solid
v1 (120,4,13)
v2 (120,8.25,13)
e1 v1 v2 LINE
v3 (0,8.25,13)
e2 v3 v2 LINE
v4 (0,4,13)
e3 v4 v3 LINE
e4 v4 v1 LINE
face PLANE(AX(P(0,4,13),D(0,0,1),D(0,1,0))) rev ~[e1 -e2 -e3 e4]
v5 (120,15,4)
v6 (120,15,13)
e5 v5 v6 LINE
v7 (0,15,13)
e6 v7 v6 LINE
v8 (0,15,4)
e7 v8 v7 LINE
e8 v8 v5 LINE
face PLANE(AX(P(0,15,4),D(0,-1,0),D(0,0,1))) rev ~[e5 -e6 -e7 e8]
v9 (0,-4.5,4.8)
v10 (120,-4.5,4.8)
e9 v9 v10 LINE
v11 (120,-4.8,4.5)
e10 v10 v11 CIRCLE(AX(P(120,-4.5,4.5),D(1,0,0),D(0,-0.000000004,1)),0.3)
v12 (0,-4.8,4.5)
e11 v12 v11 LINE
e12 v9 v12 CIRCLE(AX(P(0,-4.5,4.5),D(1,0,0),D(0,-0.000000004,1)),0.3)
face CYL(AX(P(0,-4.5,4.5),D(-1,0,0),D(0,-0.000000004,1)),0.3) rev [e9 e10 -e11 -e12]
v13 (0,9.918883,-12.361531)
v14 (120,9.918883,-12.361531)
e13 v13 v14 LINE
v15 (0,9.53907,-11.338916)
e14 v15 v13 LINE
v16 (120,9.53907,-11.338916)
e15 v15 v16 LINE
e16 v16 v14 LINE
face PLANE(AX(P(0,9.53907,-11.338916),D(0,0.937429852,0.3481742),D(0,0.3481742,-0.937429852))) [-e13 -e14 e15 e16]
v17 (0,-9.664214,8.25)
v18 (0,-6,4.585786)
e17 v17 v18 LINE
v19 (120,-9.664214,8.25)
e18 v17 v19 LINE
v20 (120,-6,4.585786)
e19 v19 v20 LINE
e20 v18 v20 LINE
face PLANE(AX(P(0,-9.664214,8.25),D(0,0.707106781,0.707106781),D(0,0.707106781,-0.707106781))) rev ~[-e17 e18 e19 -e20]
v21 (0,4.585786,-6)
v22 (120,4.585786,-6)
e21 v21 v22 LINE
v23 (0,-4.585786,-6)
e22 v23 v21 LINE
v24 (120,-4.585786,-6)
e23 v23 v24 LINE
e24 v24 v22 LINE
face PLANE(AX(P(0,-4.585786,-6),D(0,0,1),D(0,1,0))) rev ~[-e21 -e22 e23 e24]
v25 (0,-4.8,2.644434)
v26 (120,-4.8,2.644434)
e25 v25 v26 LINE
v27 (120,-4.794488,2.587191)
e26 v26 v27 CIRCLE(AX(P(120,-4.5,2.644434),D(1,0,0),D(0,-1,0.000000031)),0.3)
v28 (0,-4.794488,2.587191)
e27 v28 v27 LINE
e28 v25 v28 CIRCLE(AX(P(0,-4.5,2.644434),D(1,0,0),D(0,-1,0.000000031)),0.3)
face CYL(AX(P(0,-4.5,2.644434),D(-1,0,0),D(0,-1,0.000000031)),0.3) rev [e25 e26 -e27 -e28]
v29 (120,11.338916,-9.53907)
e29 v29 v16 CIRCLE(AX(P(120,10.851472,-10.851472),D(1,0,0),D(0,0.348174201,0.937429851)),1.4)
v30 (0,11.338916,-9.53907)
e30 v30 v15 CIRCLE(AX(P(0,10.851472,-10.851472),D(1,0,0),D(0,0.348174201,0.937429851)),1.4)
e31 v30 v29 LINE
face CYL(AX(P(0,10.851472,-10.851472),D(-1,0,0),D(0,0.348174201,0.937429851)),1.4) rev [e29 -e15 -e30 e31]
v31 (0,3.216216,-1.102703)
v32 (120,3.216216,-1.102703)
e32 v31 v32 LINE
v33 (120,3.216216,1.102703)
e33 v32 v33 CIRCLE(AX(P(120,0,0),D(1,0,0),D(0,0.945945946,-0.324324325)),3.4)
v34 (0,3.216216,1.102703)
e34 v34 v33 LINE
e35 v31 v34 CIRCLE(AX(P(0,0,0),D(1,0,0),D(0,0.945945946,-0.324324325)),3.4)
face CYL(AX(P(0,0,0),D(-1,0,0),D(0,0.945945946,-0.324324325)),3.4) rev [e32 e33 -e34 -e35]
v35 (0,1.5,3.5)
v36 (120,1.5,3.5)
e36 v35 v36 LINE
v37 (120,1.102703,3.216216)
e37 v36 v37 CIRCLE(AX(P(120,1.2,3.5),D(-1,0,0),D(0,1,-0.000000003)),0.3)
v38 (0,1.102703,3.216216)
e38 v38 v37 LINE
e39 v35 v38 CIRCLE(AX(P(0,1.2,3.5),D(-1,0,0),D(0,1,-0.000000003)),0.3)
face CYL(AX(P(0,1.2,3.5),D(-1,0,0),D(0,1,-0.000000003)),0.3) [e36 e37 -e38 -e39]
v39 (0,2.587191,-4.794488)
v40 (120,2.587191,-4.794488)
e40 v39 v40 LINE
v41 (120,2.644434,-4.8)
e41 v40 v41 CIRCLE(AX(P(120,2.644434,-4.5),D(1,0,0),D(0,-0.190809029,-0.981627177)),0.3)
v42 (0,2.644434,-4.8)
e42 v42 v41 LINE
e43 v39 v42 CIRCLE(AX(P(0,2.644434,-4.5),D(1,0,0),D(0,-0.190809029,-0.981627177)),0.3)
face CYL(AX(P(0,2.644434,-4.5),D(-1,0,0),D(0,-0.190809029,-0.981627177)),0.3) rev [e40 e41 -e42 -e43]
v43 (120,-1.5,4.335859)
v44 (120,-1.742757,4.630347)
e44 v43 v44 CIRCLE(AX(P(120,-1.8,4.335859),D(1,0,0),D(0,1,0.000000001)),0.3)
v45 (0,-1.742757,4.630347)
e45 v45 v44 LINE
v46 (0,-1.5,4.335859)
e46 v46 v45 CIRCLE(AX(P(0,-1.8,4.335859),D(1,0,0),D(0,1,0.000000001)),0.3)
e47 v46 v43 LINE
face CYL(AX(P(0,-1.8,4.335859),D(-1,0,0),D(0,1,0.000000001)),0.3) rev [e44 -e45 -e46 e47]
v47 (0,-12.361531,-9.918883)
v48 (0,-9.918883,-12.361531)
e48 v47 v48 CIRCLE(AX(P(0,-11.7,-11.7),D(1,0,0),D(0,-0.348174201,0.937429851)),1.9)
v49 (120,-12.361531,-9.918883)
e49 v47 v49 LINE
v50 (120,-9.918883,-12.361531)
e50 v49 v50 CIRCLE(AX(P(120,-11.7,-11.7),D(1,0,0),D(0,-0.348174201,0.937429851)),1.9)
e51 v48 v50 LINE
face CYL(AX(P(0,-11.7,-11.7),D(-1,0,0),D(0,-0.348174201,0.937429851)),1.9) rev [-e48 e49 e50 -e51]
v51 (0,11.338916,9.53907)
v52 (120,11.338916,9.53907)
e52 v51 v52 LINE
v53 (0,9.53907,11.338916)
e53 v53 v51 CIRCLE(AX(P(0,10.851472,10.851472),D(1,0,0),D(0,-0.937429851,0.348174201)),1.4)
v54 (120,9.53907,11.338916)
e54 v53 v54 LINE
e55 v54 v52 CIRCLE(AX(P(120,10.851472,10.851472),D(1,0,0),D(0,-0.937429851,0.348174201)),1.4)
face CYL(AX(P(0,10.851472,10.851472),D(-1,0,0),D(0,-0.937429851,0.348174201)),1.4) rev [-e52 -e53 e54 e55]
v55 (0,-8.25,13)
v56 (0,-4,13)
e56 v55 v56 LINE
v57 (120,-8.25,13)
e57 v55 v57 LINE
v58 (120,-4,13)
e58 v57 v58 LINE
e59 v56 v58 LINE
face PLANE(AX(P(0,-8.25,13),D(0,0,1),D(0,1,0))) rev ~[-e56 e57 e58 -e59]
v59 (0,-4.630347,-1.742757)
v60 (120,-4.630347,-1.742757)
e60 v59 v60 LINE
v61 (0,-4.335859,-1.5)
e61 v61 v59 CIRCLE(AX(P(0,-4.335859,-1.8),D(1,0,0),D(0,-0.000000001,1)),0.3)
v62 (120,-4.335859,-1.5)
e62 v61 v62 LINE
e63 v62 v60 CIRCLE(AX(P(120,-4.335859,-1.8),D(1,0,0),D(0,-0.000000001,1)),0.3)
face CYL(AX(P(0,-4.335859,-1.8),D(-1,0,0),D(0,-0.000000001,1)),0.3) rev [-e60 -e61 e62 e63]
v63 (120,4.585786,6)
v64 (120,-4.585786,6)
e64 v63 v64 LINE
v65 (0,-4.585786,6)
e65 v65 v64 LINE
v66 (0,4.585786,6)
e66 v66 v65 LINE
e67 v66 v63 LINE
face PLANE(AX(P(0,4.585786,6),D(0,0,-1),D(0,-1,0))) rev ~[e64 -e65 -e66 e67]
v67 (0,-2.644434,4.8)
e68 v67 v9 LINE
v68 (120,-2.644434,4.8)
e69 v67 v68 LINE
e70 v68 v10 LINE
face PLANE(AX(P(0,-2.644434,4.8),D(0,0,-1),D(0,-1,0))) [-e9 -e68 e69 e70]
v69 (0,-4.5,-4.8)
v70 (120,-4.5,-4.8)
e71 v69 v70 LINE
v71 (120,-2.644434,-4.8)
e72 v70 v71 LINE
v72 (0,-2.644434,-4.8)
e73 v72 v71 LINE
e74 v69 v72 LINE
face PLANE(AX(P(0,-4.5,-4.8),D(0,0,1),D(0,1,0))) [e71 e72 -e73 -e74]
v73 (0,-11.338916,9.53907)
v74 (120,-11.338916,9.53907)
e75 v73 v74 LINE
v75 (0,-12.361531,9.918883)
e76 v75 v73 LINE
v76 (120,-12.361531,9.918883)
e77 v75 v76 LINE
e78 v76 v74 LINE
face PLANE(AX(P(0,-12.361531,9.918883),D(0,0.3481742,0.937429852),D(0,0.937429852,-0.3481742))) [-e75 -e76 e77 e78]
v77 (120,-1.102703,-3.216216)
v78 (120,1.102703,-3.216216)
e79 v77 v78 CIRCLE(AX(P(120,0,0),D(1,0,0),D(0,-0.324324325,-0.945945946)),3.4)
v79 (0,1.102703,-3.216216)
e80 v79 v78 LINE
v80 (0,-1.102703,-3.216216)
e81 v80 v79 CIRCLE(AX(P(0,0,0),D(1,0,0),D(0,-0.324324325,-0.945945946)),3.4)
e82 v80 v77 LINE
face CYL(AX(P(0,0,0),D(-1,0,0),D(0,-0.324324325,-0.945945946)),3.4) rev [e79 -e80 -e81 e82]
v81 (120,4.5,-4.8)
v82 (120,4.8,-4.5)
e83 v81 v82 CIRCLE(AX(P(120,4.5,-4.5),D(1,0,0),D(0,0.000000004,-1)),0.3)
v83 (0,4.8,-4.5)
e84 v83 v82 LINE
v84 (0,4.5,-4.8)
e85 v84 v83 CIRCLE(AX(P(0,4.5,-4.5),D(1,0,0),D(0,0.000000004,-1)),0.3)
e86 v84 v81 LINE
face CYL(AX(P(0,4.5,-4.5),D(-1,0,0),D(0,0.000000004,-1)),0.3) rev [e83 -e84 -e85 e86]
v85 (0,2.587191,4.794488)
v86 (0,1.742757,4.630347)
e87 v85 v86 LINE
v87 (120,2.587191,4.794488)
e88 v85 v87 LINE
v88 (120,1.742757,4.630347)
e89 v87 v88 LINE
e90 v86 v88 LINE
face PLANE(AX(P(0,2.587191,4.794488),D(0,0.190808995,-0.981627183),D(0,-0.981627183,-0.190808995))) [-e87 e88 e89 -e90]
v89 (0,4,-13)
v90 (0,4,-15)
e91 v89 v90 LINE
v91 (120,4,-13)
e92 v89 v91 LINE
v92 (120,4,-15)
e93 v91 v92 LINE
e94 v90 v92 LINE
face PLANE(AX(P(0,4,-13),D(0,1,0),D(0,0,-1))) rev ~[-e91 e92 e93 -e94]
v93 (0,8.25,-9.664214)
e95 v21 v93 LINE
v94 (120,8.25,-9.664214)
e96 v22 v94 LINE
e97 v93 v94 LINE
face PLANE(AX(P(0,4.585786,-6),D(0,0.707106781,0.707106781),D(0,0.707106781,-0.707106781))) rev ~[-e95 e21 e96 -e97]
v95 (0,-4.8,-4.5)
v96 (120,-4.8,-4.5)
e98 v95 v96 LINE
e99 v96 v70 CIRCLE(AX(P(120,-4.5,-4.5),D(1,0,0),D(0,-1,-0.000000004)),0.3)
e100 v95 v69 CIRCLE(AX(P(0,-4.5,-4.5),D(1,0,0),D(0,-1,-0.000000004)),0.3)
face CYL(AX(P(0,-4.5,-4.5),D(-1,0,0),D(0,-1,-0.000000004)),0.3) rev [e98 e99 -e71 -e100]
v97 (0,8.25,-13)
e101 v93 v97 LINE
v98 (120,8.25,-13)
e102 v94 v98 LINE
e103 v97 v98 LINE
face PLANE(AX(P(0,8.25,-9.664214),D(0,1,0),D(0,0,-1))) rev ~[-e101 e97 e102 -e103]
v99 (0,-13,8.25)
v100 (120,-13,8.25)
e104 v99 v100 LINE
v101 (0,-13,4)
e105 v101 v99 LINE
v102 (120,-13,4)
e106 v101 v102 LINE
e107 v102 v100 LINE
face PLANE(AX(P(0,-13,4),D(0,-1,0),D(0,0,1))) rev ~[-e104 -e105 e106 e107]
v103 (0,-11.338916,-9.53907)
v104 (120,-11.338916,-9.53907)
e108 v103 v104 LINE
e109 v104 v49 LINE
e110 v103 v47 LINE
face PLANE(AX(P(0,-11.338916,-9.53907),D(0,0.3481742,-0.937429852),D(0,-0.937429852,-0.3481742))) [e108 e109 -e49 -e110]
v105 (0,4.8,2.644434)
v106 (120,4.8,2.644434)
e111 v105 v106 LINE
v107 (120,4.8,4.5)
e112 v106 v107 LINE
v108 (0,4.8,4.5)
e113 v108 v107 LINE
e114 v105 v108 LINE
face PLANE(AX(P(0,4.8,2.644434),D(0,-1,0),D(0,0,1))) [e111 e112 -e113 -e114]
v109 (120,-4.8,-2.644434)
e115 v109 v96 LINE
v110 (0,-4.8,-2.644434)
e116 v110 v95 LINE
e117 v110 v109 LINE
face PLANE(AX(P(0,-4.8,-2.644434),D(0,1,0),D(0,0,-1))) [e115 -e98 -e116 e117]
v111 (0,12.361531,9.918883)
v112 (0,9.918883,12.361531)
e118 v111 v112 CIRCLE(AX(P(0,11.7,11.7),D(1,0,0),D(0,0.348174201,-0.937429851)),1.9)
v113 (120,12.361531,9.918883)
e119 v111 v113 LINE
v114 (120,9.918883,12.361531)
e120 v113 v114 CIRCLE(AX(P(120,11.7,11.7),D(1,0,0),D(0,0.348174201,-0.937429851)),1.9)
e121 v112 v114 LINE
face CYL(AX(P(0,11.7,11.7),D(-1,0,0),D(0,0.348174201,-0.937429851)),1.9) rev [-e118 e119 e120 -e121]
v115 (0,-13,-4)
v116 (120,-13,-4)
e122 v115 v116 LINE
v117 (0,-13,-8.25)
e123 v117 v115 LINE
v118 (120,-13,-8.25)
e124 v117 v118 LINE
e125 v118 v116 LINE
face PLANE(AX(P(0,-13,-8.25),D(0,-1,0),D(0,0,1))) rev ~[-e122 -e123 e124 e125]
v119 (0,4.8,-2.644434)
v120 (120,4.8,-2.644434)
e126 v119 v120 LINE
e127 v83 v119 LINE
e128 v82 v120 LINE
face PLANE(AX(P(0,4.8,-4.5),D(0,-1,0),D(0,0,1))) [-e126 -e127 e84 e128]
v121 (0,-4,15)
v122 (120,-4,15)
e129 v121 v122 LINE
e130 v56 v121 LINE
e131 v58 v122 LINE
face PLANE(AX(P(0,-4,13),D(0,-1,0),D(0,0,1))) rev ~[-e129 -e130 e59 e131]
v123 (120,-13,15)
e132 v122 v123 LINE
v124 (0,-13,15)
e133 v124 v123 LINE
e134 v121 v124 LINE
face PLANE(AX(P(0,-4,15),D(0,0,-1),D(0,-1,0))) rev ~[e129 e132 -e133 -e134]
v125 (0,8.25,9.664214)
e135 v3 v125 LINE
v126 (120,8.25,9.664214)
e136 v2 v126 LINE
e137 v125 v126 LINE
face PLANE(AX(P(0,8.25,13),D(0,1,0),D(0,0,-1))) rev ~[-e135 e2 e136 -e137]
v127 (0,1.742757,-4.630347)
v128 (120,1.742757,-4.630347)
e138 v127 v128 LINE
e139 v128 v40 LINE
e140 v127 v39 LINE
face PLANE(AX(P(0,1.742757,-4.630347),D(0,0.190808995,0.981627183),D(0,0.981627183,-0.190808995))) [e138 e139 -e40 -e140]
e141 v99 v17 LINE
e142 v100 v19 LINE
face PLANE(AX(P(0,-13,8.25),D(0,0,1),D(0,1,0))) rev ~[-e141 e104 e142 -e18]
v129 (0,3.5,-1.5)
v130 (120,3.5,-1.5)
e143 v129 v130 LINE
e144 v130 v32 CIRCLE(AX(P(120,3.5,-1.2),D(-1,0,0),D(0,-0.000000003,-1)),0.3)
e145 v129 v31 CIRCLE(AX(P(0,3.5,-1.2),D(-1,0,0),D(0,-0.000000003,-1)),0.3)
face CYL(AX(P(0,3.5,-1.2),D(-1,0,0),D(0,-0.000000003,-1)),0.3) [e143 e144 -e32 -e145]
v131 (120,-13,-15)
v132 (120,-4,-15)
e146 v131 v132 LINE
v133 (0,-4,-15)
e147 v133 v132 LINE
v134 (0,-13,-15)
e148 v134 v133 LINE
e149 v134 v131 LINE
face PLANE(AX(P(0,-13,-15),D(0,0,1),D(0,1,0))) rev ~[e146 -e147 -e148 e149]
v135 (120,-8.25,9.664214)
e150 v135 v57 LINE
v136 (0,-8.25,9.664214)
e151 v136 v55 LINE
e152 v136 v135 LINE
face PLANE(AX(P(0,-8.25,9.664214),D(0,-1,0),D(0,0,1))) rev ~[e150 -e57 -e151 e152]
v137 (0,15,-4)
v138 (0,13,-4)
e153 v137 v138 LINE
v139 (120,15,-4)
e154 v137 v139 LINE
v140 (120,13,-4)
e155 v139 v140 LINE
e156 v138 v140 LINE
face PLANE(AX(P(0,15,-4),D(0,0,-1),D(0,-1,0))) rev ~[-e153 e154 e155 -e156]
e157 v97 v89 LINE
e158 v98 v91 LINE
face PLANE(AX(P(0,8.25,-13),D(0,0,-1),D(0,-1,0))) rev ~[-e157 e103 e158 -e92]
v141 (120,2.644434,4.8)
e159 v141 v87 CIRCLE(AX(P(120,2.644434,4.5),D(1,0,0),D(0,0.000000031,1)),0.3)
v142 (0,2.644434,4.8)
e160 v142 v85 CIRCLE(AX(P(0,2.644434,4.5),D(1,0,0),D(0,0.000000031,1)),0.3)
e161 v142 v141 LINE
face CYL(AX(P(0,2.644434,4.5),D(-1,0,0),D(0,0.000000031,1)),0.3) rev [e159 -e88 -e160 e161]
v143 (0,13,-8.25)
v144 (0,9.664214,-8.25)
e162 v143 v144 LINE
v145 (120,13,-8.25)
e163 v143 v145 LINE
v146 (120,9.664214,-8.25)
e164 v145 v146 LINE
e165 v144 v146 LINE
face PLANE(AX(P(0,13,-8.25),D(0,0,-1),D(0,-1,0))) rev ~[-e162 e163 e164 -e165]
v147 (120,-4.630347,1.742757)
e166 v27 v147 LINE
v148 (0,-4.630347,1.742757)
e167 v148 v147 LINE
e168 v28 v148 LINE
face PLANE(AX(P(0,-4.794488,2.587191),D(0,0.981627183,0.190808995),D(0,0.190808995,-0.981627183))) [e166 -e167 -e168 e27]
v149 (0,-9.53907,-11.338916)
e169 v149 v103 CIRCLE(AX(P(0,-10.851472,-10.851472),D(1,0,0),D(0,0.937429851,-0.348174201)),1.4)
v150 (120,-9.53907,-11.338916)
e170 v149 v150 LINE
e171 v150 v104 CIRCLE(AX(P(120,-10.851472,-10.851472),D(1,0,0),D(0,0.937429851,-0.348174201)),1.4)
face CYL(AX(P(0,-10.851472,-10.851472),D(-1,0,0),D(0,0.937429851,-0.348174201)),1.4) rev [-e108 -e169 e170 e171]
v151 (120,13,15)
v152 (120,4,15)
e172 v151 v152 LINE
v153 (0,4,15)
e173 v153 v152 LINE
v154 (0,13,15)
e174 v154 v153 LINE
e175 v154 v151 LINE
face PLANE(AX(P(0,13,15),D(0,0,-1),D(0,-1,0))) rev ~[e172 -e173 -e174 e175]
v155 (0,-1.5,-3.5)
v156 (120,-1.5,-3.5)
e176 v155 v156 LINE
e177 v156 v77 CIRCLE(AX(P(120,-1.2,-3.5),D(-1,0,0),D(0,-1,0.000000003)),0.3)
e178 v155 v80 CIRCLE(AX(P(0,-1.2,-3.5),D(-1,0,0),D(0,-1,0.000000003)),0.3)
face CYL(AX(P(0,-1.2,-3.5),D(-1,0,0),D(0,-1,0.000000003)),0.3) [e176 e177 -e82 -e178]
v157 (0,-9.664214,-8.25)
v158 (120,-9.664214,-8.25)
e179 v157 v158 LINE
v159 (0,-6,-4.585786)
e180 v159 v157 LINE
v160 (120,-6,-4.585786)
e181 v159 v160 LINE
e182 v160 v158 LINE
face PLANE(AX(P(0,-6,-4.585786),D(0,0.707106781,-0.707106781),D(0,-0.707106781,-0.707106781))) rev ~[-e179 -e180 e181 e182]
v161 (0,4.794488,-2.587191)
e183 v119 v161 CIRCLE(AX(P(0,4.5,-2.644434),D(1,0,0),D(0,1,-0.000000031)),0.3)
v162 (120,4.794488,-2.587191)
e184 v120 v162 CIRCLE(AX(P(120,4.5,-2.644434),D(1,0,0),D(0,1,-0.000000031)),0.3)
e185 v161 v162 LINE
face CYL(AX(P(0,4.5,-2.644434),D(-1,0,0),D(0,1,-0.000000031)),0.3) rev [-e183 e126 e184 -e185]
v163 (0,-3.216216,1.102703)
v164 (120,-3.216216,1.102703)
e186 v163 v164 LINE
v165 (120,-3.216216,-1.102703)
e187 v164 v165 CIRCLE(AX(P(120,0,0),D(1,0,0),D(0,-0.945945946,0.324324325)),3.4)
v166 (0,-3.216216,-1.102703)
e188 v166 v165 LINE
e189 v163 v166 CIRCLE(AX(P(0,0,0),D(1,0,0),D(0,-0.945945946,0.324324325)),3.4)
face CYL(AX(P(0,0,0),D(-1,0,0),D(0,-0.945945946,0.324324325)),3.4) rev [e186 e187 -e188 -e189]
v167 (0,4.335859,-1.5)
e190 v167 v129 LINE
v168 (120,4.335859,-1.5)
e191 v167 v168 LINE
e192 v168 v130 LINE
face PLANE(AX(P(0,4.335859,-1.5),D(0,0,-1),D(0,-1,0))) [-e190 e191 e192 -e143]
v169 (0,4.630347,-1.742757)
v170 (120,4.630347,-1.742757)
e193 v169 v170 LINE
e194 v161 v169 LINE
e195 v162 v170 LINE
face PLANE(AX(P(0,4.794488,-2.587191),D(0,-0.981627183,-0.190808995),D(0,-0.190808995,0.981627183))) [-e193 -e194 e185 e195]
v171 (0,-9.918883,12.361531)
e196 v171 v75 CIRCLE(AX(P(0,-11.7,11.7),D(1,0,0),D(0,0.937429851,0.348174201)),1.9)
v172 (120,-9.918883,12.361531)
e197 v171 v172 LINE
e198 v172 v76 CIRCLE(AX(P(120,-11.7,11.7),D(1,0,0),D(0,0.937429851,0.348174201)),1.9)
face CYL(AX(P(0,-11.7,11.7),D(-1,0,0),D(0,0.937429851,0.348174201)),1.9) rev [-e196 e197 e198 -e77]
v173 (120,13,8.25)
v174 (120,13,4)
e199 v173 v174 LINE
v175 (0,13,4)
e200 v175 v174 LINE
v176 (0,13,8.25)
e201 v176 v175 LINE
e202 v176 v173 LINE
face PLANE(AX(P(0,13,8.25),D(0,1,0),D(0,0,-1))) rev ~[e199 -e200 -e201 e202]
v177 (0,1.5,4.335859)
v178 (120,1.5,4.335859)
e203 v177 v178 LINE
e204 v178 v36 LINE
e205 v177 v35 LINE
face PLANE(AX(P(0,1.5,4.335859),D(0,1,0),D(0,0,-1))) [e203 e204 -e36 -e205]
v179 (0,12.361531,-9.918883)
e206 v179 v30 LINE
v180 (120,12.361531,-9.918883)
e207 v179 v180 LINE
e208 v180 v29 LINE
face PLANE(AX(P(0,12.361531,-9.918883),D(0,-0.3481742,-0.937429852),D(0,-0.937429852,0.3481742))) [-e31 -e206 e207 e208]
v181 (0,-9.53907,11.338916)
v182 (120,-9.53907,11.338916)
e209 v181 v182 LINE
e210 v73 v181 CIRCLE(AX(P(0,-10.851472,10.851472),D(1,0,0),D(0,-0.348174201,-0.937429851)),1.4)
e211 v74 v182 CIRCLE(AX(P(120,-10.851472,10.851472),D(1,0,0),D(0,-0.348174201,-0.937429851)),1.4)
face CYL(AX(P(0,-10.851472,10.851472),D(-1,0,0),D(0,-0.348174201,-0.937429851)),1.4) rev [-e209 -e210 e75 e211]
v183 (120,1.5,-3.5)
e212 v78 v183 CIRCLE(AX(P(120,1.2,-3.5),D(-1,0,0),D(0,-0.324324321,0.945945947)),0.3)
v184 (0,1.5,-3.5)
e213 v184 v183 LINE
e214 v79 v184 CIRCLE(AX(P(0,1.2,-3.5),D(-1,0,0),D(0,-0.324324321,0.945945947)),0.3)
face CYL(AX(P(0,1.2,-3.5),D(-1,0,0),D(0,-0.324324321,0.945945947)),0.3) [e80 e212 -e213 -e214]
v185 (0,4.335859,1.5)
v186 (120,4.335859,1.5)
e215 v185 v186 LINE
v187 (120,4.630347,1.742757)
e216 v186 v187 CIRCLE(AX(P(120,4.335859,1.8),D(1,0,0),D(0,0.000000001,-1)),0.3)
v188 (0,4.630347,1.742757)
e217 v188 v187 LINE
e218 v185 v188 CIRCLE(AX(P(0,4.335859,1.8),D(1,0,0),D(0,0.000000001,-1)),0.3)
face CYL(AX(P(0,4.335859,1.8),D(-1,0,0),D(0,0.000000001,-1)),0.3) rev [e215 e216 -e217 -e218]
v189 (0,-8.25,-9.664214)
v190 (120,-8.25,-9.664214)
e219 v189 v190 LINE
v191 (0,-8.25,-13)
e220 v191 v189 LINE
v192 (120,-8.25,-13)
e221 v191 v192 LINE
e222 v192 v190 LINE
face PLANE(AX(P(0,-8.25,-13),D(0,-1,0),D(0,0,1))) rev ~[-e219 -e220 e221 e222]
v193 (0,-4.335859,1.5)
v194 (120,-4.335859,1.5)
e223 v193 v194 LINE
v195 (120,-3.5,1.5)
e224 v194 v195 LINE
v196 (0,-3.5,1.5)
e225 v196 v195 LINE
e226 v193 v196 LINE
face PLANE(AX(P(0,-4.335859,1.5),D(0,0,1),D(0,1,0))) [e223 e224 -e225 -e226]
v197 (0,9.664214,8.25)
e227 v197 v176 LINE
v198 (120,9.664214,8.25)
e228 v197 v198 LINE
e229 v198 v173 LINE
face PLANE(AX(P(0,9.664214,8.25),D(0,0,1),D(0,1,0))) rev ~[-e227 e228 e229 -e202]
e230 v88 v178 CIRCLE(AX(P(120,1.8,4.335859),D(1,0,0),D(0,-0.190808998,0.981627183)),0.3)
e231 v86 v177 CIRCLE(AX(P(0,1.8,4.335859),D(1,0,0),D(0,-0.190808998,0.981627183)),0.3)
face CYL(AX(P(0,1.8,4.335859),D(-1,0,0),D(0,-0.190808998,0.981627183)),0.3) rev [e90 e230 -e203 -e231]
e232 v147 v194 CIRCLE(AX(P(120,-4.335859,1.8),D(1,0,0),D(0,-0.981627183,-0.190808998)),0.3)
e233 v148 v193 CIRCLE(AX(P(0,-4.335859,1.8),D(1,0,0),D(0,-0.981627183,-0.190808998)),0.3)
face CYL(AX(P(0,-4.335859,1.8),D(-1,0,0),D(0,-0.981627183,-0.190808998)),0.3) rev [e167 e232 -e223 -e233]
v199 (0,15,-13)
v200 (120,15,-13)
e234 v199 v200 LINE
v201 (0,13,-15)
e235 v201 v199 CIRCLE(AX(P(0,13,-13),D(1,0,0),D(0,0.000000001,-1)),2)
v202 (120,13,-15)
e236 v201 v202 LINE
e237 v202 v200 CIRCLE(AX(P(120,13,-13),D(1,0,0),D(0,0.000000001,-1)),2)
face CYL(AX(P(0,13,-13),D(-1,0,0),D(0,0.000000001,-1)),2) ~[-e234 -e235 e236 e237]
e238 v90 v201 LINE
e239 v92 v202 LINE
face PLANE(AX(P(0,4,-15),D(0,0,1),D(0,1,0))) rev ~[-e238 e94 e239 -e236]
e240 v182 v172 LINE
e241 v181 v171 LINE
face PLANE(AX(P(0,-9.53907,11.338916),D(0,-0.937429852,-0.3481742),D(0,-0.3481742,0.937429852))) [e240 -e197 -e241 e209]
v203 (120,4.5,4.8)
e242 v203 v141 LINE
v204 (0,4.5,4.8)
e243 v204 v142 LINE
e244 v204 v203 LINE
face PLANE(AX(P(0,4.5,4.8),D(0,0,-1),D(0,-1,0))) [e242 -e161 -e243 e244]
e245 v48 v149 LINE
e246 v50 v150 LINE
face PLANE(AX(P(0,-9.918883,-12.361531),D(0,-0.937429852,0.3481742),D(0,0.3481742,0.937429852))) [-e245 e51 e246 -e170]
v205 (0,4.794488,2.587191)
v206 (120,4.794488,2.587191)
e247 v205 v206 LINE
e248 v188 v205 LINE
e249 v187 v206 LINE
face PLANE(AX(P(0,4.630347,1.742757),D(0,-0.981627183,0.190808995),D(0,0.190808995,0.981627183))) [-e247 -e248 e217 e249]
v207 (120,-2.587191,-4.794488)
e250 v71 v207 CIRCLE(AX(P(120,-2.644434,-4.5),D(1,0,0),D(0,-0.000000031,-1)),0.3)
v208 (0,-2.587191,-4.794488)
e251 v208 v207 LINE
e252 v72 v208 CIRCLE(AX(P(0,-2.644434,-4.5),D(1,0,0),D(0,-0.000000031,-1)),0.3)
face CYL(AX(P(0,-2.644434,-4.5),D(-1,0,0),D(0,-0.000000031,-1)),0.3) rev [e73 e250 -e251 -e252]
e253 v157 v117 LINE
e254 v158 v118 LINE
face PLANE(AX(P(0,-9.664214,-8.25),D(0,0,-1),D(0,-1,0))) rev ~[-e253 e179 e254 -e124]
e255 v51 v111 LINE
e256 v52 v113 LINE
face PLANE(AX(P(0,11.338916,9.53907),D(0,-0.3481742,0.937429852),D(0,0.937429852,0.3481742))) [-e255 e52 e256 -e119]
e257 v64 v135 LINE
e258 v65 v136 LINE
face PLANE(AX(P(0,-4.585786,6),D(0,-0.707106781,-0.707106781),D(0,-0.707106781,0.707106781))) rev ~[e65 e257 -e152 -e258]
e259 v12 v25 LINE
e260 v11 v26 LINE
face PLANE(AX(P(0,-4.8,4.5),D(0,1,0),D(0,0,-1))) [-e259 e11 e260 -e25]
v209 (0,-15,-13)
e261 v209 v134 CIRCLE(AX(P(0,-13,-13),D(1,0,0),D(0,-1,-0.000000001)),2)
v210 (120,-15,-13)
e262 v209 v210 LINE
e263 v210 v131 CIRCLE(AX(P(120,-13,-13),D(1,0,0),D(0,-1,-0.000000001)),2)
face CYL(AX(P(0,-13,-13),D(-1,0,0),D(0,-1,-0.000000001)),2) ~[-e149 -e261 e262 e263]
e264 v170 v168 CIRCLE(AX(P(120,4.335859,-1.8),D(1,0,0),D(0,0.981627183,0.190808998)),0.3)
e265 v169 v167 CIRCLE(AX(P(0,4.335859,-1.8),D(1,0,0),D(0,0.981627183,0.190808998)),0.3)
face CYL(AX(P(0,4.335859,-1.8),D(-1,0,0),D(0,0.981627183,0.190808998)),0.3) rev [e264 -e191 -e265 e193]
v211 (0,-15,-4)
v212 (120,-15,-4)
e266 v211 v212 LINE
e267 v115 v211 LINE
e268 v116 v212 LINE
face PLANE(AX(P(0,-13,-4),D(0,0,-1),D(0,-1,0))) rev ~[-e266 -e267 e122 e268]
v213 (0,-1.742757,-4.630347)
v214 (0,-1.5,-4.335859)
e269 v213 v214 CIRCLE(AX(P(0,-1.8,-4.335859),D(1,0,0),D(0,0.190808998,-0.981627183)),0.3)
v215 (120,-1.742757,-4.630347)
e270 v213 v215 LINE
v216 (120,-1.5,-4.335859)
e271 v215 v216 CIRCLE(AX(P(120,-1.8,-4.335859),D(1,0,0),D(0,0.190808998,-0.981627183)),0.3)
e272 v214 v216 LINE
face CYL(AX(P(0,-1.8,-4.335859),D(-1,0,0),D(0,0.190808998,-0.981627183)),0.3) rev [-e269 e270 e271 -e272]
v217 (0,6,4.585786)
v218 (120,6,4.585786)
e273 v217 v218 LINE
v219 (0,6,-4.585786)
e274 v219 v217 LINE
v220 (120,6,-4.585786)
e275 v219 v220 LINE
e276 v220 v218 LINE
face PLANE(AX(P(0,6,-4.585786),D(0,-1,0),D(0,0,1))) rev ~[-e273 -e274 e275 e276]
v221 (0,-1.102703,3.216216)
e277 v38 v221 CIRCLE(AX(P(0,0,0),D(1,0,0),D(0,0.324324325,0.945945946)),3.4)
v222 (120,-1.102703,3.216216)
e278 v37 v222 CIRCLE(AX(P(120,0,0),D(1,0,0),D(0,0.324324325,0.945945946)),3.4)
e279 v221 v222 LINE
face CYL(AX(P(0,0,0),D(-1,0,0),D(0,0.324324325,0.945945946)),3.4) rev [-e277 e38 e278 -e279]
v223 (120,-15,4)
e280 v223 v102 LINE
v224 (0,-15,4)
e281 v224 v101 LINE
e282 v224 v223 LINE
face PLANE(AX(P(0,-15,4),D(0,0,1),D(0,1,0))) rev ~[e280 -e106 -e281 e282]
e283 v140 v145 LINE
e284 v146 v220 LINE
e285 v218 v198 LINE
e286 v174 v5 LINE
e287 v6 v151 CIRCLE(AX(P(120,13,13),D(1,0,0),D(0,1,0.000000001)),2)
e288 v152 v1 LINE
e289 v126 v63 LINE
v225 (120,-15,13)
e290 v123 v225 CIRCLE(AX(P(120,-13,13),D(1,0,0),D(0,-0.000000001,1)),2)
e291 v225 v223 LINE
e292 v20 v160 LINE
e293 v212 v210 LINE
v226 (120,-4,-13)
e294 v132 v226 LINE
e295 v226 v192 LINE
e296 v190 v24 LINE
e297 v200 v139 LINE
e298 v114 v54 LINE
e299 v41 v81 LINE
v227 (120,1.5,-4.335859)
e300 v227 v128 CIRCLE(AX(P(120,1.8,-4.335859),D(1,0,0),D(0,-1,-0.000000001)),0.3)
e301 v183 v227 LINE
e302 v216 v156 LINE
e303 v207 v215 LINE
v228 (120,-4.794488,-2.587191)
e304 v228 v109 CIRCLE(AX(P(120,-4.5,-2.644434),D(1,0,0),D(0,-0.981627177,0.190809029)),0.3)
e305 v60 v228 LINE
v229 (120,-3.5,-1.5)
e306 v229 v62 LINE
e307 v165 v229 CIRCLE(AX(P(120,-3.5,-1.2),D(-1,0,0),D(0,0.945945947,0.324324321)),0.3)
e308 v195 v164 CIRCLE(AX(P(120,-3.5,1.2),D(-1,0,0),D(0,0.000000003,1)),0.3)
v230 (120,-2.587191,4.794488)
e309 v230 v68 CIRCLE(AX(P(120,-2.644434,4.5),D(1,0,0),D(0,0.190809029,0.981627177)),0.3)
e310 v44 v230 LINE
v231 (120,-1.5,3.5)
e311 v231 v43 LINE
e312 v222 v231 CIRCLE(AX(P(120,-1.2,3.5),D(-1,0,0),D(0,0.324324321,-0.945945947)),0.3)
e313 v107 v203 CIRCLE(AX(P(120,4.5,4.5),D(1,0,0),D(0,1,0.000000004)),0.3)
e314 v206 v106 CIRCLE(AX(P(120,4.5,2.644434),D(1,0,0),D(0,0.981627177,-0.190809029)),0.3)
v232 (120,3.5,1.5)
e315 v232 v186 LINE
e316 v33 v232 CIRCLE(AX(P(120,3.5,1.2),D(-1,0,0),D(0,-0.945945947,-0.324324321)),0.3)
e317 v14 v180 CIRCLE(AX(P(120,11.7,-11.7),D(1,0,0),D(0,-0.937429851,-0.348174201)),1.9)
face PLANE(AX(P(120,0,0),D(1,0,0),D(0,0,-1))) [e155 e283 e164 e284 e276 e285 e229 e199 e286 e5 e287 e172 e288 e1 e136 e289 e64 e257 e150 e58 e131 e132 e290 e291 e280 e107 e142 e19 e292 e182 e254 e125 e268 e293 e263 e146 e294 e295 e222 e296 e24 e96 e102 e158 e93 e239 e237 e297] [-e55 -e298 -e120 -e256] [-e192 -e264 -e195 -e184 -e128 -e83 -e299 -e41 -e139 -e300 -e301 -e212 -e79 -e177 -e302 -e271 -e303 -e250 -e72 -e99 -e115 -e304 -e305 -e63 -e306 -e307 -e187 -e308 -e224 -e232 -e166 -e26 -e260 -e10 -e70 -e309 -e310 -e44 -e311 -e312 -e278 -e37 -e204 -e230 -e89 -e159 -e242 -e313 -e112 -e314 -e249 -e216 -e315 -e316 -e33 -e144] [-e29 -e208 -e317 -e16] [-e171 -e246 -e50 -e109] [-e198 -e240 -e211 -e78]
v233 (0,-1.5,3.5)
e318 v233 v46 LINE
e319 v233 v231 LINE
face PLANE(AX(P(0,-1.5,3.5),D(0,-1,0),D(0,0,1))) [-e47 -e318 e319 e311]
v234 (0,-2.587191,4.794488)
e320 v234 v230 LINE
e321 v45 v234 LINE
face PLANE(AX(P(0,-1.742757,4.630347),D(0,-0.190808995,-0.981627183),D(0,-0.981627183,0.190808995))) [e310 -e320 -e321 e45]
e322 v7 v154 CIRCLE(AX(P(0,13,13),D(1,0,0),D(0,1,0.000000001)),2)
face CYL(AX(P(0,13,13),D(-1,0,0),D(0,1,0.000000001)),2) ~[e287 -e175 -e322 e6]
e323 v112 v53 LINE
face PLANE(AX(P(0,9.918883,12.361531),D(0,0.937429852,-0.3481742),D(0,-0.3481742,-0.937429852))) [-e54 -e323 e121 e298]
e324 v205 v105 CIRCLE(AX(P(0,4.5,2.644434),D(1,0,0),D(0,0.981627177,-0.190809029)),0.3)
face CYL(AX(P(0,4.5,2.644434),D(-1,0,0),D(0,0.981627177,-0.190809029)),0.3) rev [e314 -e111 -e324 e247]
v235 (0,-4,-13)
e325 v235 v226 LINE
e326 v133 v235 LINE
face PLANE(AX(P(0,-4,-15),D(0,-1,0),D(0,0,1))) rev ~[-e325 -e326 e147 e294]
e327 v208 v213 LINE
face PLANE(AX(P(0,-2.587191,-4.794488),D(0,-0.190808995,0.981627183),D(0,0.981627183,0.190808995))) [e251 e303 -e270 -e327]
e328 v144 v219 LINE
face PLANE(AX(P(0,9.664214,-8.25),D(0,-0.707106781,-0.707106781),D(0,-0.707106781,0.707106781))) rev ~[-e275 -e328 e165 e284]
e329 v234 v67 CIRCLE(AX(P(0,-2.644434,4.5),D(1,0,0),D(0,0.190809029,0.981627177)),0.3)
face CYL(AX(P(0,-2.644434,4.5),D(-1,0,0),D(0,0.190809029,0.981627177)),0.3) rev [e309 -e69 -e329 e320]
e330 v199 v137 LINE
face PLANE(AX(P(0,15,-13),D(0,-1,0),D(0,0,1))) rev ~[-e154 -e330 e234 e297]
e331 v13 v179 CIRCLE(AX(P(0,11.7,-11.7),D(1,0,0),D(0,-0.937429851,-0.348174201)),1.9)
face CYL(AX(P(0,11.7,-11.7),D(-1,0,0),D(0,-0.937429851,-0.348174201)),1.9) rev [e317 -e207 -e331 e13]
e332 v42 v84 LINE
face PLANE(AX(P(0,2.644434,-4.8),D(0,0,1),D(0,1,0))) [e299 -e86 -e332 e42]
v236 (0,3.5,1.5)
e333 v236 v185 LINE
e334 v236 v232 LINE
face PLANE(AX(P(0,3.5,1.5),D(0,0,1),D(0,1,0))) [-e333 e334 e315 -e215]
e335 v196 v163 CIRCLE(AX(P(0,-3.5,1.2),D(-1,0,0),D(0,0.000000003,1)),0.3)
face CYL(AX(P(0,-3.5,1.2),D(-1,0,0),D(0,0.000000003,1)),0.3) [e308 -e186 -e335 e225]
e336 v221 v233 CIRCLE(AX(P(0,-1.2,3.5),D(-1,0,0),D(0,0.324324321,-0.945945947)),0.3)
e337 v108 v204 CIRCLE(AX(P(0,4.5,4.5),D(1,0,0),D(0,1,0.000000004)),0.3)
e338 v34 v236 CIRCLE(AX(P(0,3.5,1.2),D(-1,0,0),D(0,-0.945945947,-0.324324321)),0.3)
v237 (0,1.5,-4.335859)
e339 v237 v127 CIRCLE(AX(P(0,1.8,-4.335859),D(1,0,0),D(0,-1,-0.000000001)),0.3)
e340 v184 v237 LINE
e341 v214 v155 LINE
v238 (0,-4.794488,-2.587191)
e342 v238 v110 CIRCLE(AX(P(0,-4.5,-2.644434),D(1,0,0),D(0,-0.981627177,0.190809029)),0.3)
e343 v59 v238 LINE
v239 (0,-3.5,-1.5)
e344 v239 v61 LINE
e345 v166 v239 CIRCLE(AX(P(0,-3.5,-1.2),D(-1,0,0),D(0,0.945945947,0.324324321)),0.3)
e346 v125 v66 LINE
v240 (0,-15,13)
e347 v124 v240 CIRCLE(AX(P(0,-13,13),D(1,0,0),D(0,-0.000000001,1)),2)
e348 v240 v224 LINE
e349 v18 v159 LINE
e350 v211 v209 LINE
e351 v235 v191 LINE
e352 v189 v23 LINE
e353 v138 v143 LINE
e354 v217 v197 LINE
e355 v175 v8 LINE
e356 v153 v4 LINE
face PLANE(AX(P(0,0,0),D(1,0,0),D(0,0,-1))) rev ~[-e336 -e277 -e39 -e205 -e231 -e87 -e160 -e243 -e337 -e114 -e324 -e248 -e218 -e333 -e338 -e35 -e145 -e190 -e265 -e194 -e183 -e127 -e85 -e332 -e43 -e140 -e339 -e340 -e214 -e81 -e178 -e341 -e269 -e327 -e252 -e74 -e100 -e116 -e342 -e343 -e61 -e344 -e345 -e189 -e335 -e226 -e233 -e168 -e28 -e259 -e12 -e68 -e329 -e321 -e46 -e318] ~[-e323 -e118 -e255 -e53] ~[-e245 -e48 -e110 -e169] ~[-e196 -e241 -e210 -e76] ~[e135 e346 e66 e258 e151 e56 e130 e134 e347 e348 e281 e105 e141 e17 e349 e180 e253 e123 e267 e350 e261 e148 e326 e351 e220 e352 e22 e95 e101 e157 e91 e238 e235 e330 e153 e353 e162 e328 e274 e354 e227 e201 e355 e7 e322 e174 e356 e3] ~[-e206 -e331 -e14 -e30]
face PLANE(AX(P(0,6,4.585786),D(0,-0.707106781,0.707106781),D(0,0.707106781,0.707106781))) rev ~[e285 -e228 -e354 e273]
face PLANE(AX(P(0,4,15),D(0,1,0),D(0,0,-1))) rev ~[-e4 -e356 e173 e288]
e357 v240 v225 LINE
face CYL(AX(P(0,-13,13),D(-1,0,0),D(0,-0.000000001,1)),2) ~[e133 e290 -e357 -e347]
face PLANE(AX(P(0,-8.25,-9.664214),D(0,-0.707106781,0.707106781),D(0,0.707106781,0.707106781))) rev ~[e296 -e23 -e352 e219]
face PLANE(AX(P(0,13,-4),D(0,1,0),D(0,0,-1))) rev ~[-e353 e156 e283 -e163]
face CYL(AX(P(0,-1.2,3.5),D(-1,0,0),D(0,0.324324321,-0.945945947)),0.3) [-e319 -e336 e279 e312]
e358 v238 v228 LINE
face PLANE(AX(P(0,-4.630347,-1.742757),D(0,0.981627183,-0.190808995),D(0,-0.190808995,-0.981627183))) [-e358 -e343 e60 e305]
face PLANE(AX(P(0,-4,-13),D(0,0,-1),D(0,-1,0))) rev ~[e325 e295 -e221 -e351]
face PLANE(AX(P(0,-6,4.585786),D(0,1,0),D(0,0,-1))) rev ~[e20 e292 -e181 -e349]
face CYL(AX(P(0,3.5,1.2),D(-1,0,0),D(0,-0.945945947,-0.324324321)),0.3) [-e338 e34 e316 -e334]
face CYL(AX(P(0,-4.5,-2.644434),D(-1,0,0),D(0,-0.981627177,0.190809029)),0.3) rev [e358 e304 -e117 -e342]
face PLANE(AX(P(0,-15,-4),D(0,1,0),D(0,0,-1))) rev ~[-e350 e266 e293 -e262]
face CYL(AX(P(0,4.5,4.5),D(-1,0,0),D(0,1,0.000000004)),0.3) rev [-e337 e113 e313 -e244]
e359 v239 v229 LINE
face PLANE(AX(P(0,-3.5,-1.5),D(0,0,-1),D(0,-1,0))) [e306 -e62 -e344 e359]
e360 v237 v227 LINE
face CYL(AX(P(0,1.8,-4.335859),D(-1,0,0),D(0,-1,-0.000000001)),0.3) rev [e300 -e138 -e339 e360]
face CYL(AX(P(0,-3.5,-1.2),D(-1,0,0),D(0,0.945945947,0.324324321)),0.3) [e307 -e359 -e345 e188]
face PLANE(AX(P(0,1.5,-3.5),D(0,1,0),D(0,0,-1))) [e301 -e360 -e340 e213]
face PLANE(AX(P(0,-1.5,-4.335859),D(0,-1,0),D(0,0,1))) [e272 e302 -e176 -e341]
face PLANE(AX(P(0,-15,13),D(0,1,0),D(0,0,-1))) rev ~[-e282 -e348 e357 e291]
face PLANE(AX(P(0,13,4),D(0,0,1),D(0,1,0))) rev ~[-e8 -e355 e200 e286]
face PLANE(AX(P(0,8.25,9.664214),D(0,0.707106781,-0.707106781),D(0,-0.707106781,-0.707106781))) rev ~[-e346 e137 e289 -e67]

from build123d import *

# Parameters (mm, degrees)
BOSS_EXTRUDE1_DEPTH = 120


with BuildPart() as part:
    # Sketch1 → Boss-Extrude1 (new body)
    with BuildSketch(Plane(origin=(0, 0, 0), x_dir=(0, 0, -1), z_dir=(1, 0, 0))):
        with BuildLine():
            Line((-15, 13), (-15, 4))
            Line((-15, 4), (-13, 4))
            Line((-13, 4), (-13, 8.25))
            Line((-13, 8.25), (-9.664213562, 8.25))
            Line((-9.664213562, 8.25), (-6, 4.585786438))
            Line((-6, 4.585786438), (-6, -4.585786438))
            Line((-6, -4.585786438), (-9.664213562, -8.25))
            Line((-9.664213562, -8.25), (-13, -8.25))
            Line((-13, -8.25), (-13, -4))
            Line((-13, -4), (-15, -4))
            Line((-15, -4), (-15, -13))
            ThreePointArc((-15, -13), (-14.414213562, -14.414213562), (-13, -15))
            Line((-13, -15), (-4, -15))
            Line((-4, -15), (-4, -13))
            Line((-4, -13), (-8.25, -13))
            Line((-8.25, -13), (-8.25, -9.664213562))
            Line((-8.25, -9.664213562), (-4.585786438, -6))
            Line((-4.585786438, -6), (4.585786438, -6))
            Line((4.585786438, -6), (8.25, -9.664213562))
            Line((8.25, -9.664213562), (8.25, -13))
            Line((8.25, -13), (4, -13))
            Line((4, -13), (4, -15))
            Line((4, -15), (13, -15))
            ThreePointArc((13, -15), (14.414213562, -14.414213562), (15, -13))
            Line((15, -13), (15, -4))
            Line((15, -4), (13, -4))
            Line((13, -4), (13, -8.25))
            Line((13, -8.25), (9.664213562, -8.25))
            Line((9.664213562, -8.25), (6, -4.585786438))
            Line((6, -4.585786438), (6, 4.585786438))
            Line((6, 4.585786438), (9.664213562, 8.25))
            Line((9.664213562, 8.25), (13, 8.25))
            Line((13, 8.25), (13, 4))
            Line((13, 4), (15, 4))
            Line((15, 4), (15, 13))
            ThreePointArc((15, 13), (14.414213562, 14.414213562), (13, 15))
            Line((13, 15), (4, 15))
            Line((4, 15), (4, 13))
            Line((4, 13), (8.25, 13))
            Line((8.25, 13), (8.25, 9.664213562))
            Line((8.25, 9.664213562), (4.585786438, 6))
            Line((4.585786438, 6), (-4.585786438, 6))
            Line((-4.585786438, 6), (-8.25, 9.664213562))
            Line((-8.25, 9.664213562), (-8.25, 13))
            Line((-8.25, 13), (-4, 13))
            Line((-4, 13), (-4, 15))
            Line((-4, 15), (-13, 15))
            ThreePointArc((-13, 15), (-14.414213562, 14.414213562), (-15, 13))
        make_face()
        with BuildLine():
            Line((-9.539070071, 11.338915743), (-9.918883282, 12.361530981))
            ThreePointArc((-9.918883282, 12.361530981), (-13.043502884, 13.043502884), (-12.361530981, 9.918883282))
            Line((-12.361530981, 9.918883282), (-11.338915743, 9.539070071))
            ThreePointArc((-11.338915743, 9.539070071), (-9.861522369, 9.861522369), (-9.539070071, 11.338915743))
        make_face(mode=Mode.SUBTRACT)
        with BuildLine():
            Line((9.918883282, 12.361530981), (9.539070071, 11.338915743))
            ThreePointArc((9.539070071, 11.338915743), (9.861522369, 9.861522369), (11.338915743, 9.539070071))
            Line((11.338915743, 9.539070071), (12.361530981, 9.918883282))
            ThreePointArc((12.361530981, 9.918883282), (13.043502884, 13.043502884), (9.918883282, 12.361530981))
        make_face(mode=Mode.SUBTRACT)
        with BuildLine():
            Line((12.361530981, -9.918883282), (11.338915743, -9.539070071))
            ThreePointArc((11.338915743, -9.539070071), (9.861522369, -9.861522369), (9.539070071, -11.338915743))
            Line((9.539070071, -11.338915743), (9.918883282, -12.361530981))
            ThreePointArc((9.918883282, -12.361530981), (13.043502884, -13.043502884), (12.361530981, -9.918883282))
        make_face(mode=Mode.SUBTRACT)
        with BuildLine():
            Line((-11.338915743, -9.539070071), (-12.361530981, -9.918883282))
            ThreePointArc((-12.361530981, -9.918883282), (-13.043502884, -13.043502884), (-9.918883282, -12.361530981))
            Line((-9.918883282, -12.361530981), (-9.539070071, -11.338915743))
            ThreePointArc((-9.539070071, -11.338915743), (-9.861522369, -9.861522369), (-11.338915743, -9.539070071))
        make_face(mode=Mode.SUBTRACT)
        with BuildLine():
            Line((-4.8, -2.644433572), (-4.8, -4.5))
            ThreePointArc((-4.8, -4.5), (-4.712132034, -4.712132034), (-4.5, -4.8))
            Line((-4.5, -4.8), (-2.644433572, -4.8))
            ThreePointArc((-2.644433572, -4.8), (-2.615679847, -4.79861886), (-2.587190874, -4.794488155))
            Line((-2.587190874, -4.794488155), (-1.742757301, -4.630346896))
            ThreePointArc((-1.742757301, -4.630346896), (-1.568512625, -4.526682207), (-1.5, -4.335858741))
            Line((-1.5, -4.335858741), (-1.5, -3.5))
            ThreePointArc((-1.5, -3.5), (-1.374371458, -3.255879959), (-1.102702703, -3.216216216))
            ThreePointArc((-1.102702703, -3.216216216), (0, -3.4), (1.102702703, -3.216216216))
            ThreePointArc((1.102702703, -3.216216216), (1.374371458, -3.255879959), (1.5, -3.5))
            Line((1.5, -3.5), (1.5, -4.335858741))
            ThreePointArc((1.5, -4.335858741), (1.568512625, -4.526682207), (1.742757301, -4.630346896))
            Line((1.742757301, -4.630346896), (2.587190874, -4.794488155))
            ThreePointArc((2.587190874, -4.794488155), (2.615679847, -4.79861886), (2.644433572, -4.8))
            Line((2.644433572, -4.8), (4.5, -4.8))
            ThreePointArc((4.5, -4.8), (4.712132034, -4.712132034), (4.8, -4.5))
            Line((4.8, -4.5), (4.8, -2.644433572))
            ThreePointArc((4.8, -2.644433572), (4.79861886, -2.615679847), (4.794488155, -2.587190874))
            Line((4.794488155, -2.587190874), (4.630346896, -1.742757301))
            ThreePointArc((4.630346896, -1.742757301), (4.526682207, -1.568512625), (4.335858741, -1.5))
            Line((4.335858741, -1.5), (3.5, -1.5))
            ThreePointArc((3.5, -1.5), (3.255879959, -1.374371458), (3.216216216, -1.102702703))
            ThreePointArc((3.216216216, -1.102702703), (3.4, 0), (3.216216216, 1.102702703))
            ThreePointArc((3.216216216, 1.102702703), (3.255879959, 1.374371458), (3.5, 1.5))
            Line((3.5, 1.5), (4.335858741, 1.5))
            ThreePointArc((4.335858741, 1.5), (4.526682207, 1.568512625), (4.630346896, 1.742757301))
            Line((4.630346896, 1.742757301), (4.794488155, 2.587190874))
            ThreePointArc((4.794488155, 2.587190874), (4.79861886, 2.615679847), (4.8, 2.644433572))
            Line((4.8, 2.644433572), (4.8, 4.5))
            ThreePointArc((4.8, 4.5), (4.712132034, 4.712132034), (4.5, 4.8))
            Line((4.5, 4.8), (2.644433572, 4.8))
            ThreePointArc((2.644433572, 4.8), (2.615679847, 4.79861886), (2.587190874, 4.794488155))
            Line((2.587190874, 4.794488155), (1.742757301, 4.630346896))
            ThreePointArc((1.742757301, 4.630346896), (1.568512625, 4.526682207), (1.5, 4.335858741))
            Line((1.5, 4.335858741), (1.5, 3.5))
            ThreePointArc((1.5, 3.5), (1.374371458, 3.255879959), (1.102702703, 3.216216216))
            ThreePointArc((1.102702703, 3.216216216), (0, 3.4), (-1.102702703, 3.216216216))
            ThreePointArc((-1.102702703, 3.216216216), (-1.374371458, 3.255879959), (-1.5, 3.5))
            Line((-1.5, 3.5), (-1.5, 4.335858741))
            ThreePointArc((-1.5, 4.335858741), (-1.568512625, 4.526682207), (-1.742757301, 4.630346896))
            Line((-1.742757301, 4.630346896), (-2.587190874, 4.794488155))
            ThreePointArc((-2.587190874, 4.794488155), (-2.615679847, 4.79861886), (-2.644433572, 4.8))
            Line((-2.644433572, 4.8), (-4.5, 4.8))
            ThreePointArc((-4.5, 4.8), (-4.712132034, 4.712132034), (-4.8, 4.5))
            Line((-4.8, 4.5), (-4.8, 2.644433572))
            ThreePointArc((-4.8, 2.644433572), (-4.79861886, 2.615679847), (-4.794488155, 2.587190874))
            Line((-4.794488155, 2.587190874), (-4.630346896, 1.742757301))
            ThreePointArc((-4.630346896, 1.742757301), (-4.526682207, 1.568512625), (-4.335858741, 1.5))
            Line((-4.335858741, 1.5), (-3.5, 1.5))
            ThreePointArc((-3.5, 1.5), (-3.255879959, 1.374371458), (-3.216216216, 1.102702703))
            ThreePointArc((-3.216216216, 1.102702703), (-3.4, 0), (-3.216216216, -1.102702703))
            ThreePointArc((-3.216216216, -1.102702703), (-3.255879959, -1.374371458), (-3.5, -1.5))
            Line((-3.5, -1.5), (-4.335858741, -1.5))
            ThreePointArc((-4.335858741, -1.5), (-4.526682207, -1.568512625), (-4.630346896, -1.742757301))
            Line((-4.630346896, -1.742757301), (-4.794488155, -2.587190874))
            ThreePointArc((-4.794488155, -2.587190874), (-4.79861886, -2.615679847), (-4.8, -2.644433572))
        make_face(mode=Mode.SUBTRACT)
    extrude(amount=BOSS_EXTRUDE1_DEPTH)


solid = part.part
